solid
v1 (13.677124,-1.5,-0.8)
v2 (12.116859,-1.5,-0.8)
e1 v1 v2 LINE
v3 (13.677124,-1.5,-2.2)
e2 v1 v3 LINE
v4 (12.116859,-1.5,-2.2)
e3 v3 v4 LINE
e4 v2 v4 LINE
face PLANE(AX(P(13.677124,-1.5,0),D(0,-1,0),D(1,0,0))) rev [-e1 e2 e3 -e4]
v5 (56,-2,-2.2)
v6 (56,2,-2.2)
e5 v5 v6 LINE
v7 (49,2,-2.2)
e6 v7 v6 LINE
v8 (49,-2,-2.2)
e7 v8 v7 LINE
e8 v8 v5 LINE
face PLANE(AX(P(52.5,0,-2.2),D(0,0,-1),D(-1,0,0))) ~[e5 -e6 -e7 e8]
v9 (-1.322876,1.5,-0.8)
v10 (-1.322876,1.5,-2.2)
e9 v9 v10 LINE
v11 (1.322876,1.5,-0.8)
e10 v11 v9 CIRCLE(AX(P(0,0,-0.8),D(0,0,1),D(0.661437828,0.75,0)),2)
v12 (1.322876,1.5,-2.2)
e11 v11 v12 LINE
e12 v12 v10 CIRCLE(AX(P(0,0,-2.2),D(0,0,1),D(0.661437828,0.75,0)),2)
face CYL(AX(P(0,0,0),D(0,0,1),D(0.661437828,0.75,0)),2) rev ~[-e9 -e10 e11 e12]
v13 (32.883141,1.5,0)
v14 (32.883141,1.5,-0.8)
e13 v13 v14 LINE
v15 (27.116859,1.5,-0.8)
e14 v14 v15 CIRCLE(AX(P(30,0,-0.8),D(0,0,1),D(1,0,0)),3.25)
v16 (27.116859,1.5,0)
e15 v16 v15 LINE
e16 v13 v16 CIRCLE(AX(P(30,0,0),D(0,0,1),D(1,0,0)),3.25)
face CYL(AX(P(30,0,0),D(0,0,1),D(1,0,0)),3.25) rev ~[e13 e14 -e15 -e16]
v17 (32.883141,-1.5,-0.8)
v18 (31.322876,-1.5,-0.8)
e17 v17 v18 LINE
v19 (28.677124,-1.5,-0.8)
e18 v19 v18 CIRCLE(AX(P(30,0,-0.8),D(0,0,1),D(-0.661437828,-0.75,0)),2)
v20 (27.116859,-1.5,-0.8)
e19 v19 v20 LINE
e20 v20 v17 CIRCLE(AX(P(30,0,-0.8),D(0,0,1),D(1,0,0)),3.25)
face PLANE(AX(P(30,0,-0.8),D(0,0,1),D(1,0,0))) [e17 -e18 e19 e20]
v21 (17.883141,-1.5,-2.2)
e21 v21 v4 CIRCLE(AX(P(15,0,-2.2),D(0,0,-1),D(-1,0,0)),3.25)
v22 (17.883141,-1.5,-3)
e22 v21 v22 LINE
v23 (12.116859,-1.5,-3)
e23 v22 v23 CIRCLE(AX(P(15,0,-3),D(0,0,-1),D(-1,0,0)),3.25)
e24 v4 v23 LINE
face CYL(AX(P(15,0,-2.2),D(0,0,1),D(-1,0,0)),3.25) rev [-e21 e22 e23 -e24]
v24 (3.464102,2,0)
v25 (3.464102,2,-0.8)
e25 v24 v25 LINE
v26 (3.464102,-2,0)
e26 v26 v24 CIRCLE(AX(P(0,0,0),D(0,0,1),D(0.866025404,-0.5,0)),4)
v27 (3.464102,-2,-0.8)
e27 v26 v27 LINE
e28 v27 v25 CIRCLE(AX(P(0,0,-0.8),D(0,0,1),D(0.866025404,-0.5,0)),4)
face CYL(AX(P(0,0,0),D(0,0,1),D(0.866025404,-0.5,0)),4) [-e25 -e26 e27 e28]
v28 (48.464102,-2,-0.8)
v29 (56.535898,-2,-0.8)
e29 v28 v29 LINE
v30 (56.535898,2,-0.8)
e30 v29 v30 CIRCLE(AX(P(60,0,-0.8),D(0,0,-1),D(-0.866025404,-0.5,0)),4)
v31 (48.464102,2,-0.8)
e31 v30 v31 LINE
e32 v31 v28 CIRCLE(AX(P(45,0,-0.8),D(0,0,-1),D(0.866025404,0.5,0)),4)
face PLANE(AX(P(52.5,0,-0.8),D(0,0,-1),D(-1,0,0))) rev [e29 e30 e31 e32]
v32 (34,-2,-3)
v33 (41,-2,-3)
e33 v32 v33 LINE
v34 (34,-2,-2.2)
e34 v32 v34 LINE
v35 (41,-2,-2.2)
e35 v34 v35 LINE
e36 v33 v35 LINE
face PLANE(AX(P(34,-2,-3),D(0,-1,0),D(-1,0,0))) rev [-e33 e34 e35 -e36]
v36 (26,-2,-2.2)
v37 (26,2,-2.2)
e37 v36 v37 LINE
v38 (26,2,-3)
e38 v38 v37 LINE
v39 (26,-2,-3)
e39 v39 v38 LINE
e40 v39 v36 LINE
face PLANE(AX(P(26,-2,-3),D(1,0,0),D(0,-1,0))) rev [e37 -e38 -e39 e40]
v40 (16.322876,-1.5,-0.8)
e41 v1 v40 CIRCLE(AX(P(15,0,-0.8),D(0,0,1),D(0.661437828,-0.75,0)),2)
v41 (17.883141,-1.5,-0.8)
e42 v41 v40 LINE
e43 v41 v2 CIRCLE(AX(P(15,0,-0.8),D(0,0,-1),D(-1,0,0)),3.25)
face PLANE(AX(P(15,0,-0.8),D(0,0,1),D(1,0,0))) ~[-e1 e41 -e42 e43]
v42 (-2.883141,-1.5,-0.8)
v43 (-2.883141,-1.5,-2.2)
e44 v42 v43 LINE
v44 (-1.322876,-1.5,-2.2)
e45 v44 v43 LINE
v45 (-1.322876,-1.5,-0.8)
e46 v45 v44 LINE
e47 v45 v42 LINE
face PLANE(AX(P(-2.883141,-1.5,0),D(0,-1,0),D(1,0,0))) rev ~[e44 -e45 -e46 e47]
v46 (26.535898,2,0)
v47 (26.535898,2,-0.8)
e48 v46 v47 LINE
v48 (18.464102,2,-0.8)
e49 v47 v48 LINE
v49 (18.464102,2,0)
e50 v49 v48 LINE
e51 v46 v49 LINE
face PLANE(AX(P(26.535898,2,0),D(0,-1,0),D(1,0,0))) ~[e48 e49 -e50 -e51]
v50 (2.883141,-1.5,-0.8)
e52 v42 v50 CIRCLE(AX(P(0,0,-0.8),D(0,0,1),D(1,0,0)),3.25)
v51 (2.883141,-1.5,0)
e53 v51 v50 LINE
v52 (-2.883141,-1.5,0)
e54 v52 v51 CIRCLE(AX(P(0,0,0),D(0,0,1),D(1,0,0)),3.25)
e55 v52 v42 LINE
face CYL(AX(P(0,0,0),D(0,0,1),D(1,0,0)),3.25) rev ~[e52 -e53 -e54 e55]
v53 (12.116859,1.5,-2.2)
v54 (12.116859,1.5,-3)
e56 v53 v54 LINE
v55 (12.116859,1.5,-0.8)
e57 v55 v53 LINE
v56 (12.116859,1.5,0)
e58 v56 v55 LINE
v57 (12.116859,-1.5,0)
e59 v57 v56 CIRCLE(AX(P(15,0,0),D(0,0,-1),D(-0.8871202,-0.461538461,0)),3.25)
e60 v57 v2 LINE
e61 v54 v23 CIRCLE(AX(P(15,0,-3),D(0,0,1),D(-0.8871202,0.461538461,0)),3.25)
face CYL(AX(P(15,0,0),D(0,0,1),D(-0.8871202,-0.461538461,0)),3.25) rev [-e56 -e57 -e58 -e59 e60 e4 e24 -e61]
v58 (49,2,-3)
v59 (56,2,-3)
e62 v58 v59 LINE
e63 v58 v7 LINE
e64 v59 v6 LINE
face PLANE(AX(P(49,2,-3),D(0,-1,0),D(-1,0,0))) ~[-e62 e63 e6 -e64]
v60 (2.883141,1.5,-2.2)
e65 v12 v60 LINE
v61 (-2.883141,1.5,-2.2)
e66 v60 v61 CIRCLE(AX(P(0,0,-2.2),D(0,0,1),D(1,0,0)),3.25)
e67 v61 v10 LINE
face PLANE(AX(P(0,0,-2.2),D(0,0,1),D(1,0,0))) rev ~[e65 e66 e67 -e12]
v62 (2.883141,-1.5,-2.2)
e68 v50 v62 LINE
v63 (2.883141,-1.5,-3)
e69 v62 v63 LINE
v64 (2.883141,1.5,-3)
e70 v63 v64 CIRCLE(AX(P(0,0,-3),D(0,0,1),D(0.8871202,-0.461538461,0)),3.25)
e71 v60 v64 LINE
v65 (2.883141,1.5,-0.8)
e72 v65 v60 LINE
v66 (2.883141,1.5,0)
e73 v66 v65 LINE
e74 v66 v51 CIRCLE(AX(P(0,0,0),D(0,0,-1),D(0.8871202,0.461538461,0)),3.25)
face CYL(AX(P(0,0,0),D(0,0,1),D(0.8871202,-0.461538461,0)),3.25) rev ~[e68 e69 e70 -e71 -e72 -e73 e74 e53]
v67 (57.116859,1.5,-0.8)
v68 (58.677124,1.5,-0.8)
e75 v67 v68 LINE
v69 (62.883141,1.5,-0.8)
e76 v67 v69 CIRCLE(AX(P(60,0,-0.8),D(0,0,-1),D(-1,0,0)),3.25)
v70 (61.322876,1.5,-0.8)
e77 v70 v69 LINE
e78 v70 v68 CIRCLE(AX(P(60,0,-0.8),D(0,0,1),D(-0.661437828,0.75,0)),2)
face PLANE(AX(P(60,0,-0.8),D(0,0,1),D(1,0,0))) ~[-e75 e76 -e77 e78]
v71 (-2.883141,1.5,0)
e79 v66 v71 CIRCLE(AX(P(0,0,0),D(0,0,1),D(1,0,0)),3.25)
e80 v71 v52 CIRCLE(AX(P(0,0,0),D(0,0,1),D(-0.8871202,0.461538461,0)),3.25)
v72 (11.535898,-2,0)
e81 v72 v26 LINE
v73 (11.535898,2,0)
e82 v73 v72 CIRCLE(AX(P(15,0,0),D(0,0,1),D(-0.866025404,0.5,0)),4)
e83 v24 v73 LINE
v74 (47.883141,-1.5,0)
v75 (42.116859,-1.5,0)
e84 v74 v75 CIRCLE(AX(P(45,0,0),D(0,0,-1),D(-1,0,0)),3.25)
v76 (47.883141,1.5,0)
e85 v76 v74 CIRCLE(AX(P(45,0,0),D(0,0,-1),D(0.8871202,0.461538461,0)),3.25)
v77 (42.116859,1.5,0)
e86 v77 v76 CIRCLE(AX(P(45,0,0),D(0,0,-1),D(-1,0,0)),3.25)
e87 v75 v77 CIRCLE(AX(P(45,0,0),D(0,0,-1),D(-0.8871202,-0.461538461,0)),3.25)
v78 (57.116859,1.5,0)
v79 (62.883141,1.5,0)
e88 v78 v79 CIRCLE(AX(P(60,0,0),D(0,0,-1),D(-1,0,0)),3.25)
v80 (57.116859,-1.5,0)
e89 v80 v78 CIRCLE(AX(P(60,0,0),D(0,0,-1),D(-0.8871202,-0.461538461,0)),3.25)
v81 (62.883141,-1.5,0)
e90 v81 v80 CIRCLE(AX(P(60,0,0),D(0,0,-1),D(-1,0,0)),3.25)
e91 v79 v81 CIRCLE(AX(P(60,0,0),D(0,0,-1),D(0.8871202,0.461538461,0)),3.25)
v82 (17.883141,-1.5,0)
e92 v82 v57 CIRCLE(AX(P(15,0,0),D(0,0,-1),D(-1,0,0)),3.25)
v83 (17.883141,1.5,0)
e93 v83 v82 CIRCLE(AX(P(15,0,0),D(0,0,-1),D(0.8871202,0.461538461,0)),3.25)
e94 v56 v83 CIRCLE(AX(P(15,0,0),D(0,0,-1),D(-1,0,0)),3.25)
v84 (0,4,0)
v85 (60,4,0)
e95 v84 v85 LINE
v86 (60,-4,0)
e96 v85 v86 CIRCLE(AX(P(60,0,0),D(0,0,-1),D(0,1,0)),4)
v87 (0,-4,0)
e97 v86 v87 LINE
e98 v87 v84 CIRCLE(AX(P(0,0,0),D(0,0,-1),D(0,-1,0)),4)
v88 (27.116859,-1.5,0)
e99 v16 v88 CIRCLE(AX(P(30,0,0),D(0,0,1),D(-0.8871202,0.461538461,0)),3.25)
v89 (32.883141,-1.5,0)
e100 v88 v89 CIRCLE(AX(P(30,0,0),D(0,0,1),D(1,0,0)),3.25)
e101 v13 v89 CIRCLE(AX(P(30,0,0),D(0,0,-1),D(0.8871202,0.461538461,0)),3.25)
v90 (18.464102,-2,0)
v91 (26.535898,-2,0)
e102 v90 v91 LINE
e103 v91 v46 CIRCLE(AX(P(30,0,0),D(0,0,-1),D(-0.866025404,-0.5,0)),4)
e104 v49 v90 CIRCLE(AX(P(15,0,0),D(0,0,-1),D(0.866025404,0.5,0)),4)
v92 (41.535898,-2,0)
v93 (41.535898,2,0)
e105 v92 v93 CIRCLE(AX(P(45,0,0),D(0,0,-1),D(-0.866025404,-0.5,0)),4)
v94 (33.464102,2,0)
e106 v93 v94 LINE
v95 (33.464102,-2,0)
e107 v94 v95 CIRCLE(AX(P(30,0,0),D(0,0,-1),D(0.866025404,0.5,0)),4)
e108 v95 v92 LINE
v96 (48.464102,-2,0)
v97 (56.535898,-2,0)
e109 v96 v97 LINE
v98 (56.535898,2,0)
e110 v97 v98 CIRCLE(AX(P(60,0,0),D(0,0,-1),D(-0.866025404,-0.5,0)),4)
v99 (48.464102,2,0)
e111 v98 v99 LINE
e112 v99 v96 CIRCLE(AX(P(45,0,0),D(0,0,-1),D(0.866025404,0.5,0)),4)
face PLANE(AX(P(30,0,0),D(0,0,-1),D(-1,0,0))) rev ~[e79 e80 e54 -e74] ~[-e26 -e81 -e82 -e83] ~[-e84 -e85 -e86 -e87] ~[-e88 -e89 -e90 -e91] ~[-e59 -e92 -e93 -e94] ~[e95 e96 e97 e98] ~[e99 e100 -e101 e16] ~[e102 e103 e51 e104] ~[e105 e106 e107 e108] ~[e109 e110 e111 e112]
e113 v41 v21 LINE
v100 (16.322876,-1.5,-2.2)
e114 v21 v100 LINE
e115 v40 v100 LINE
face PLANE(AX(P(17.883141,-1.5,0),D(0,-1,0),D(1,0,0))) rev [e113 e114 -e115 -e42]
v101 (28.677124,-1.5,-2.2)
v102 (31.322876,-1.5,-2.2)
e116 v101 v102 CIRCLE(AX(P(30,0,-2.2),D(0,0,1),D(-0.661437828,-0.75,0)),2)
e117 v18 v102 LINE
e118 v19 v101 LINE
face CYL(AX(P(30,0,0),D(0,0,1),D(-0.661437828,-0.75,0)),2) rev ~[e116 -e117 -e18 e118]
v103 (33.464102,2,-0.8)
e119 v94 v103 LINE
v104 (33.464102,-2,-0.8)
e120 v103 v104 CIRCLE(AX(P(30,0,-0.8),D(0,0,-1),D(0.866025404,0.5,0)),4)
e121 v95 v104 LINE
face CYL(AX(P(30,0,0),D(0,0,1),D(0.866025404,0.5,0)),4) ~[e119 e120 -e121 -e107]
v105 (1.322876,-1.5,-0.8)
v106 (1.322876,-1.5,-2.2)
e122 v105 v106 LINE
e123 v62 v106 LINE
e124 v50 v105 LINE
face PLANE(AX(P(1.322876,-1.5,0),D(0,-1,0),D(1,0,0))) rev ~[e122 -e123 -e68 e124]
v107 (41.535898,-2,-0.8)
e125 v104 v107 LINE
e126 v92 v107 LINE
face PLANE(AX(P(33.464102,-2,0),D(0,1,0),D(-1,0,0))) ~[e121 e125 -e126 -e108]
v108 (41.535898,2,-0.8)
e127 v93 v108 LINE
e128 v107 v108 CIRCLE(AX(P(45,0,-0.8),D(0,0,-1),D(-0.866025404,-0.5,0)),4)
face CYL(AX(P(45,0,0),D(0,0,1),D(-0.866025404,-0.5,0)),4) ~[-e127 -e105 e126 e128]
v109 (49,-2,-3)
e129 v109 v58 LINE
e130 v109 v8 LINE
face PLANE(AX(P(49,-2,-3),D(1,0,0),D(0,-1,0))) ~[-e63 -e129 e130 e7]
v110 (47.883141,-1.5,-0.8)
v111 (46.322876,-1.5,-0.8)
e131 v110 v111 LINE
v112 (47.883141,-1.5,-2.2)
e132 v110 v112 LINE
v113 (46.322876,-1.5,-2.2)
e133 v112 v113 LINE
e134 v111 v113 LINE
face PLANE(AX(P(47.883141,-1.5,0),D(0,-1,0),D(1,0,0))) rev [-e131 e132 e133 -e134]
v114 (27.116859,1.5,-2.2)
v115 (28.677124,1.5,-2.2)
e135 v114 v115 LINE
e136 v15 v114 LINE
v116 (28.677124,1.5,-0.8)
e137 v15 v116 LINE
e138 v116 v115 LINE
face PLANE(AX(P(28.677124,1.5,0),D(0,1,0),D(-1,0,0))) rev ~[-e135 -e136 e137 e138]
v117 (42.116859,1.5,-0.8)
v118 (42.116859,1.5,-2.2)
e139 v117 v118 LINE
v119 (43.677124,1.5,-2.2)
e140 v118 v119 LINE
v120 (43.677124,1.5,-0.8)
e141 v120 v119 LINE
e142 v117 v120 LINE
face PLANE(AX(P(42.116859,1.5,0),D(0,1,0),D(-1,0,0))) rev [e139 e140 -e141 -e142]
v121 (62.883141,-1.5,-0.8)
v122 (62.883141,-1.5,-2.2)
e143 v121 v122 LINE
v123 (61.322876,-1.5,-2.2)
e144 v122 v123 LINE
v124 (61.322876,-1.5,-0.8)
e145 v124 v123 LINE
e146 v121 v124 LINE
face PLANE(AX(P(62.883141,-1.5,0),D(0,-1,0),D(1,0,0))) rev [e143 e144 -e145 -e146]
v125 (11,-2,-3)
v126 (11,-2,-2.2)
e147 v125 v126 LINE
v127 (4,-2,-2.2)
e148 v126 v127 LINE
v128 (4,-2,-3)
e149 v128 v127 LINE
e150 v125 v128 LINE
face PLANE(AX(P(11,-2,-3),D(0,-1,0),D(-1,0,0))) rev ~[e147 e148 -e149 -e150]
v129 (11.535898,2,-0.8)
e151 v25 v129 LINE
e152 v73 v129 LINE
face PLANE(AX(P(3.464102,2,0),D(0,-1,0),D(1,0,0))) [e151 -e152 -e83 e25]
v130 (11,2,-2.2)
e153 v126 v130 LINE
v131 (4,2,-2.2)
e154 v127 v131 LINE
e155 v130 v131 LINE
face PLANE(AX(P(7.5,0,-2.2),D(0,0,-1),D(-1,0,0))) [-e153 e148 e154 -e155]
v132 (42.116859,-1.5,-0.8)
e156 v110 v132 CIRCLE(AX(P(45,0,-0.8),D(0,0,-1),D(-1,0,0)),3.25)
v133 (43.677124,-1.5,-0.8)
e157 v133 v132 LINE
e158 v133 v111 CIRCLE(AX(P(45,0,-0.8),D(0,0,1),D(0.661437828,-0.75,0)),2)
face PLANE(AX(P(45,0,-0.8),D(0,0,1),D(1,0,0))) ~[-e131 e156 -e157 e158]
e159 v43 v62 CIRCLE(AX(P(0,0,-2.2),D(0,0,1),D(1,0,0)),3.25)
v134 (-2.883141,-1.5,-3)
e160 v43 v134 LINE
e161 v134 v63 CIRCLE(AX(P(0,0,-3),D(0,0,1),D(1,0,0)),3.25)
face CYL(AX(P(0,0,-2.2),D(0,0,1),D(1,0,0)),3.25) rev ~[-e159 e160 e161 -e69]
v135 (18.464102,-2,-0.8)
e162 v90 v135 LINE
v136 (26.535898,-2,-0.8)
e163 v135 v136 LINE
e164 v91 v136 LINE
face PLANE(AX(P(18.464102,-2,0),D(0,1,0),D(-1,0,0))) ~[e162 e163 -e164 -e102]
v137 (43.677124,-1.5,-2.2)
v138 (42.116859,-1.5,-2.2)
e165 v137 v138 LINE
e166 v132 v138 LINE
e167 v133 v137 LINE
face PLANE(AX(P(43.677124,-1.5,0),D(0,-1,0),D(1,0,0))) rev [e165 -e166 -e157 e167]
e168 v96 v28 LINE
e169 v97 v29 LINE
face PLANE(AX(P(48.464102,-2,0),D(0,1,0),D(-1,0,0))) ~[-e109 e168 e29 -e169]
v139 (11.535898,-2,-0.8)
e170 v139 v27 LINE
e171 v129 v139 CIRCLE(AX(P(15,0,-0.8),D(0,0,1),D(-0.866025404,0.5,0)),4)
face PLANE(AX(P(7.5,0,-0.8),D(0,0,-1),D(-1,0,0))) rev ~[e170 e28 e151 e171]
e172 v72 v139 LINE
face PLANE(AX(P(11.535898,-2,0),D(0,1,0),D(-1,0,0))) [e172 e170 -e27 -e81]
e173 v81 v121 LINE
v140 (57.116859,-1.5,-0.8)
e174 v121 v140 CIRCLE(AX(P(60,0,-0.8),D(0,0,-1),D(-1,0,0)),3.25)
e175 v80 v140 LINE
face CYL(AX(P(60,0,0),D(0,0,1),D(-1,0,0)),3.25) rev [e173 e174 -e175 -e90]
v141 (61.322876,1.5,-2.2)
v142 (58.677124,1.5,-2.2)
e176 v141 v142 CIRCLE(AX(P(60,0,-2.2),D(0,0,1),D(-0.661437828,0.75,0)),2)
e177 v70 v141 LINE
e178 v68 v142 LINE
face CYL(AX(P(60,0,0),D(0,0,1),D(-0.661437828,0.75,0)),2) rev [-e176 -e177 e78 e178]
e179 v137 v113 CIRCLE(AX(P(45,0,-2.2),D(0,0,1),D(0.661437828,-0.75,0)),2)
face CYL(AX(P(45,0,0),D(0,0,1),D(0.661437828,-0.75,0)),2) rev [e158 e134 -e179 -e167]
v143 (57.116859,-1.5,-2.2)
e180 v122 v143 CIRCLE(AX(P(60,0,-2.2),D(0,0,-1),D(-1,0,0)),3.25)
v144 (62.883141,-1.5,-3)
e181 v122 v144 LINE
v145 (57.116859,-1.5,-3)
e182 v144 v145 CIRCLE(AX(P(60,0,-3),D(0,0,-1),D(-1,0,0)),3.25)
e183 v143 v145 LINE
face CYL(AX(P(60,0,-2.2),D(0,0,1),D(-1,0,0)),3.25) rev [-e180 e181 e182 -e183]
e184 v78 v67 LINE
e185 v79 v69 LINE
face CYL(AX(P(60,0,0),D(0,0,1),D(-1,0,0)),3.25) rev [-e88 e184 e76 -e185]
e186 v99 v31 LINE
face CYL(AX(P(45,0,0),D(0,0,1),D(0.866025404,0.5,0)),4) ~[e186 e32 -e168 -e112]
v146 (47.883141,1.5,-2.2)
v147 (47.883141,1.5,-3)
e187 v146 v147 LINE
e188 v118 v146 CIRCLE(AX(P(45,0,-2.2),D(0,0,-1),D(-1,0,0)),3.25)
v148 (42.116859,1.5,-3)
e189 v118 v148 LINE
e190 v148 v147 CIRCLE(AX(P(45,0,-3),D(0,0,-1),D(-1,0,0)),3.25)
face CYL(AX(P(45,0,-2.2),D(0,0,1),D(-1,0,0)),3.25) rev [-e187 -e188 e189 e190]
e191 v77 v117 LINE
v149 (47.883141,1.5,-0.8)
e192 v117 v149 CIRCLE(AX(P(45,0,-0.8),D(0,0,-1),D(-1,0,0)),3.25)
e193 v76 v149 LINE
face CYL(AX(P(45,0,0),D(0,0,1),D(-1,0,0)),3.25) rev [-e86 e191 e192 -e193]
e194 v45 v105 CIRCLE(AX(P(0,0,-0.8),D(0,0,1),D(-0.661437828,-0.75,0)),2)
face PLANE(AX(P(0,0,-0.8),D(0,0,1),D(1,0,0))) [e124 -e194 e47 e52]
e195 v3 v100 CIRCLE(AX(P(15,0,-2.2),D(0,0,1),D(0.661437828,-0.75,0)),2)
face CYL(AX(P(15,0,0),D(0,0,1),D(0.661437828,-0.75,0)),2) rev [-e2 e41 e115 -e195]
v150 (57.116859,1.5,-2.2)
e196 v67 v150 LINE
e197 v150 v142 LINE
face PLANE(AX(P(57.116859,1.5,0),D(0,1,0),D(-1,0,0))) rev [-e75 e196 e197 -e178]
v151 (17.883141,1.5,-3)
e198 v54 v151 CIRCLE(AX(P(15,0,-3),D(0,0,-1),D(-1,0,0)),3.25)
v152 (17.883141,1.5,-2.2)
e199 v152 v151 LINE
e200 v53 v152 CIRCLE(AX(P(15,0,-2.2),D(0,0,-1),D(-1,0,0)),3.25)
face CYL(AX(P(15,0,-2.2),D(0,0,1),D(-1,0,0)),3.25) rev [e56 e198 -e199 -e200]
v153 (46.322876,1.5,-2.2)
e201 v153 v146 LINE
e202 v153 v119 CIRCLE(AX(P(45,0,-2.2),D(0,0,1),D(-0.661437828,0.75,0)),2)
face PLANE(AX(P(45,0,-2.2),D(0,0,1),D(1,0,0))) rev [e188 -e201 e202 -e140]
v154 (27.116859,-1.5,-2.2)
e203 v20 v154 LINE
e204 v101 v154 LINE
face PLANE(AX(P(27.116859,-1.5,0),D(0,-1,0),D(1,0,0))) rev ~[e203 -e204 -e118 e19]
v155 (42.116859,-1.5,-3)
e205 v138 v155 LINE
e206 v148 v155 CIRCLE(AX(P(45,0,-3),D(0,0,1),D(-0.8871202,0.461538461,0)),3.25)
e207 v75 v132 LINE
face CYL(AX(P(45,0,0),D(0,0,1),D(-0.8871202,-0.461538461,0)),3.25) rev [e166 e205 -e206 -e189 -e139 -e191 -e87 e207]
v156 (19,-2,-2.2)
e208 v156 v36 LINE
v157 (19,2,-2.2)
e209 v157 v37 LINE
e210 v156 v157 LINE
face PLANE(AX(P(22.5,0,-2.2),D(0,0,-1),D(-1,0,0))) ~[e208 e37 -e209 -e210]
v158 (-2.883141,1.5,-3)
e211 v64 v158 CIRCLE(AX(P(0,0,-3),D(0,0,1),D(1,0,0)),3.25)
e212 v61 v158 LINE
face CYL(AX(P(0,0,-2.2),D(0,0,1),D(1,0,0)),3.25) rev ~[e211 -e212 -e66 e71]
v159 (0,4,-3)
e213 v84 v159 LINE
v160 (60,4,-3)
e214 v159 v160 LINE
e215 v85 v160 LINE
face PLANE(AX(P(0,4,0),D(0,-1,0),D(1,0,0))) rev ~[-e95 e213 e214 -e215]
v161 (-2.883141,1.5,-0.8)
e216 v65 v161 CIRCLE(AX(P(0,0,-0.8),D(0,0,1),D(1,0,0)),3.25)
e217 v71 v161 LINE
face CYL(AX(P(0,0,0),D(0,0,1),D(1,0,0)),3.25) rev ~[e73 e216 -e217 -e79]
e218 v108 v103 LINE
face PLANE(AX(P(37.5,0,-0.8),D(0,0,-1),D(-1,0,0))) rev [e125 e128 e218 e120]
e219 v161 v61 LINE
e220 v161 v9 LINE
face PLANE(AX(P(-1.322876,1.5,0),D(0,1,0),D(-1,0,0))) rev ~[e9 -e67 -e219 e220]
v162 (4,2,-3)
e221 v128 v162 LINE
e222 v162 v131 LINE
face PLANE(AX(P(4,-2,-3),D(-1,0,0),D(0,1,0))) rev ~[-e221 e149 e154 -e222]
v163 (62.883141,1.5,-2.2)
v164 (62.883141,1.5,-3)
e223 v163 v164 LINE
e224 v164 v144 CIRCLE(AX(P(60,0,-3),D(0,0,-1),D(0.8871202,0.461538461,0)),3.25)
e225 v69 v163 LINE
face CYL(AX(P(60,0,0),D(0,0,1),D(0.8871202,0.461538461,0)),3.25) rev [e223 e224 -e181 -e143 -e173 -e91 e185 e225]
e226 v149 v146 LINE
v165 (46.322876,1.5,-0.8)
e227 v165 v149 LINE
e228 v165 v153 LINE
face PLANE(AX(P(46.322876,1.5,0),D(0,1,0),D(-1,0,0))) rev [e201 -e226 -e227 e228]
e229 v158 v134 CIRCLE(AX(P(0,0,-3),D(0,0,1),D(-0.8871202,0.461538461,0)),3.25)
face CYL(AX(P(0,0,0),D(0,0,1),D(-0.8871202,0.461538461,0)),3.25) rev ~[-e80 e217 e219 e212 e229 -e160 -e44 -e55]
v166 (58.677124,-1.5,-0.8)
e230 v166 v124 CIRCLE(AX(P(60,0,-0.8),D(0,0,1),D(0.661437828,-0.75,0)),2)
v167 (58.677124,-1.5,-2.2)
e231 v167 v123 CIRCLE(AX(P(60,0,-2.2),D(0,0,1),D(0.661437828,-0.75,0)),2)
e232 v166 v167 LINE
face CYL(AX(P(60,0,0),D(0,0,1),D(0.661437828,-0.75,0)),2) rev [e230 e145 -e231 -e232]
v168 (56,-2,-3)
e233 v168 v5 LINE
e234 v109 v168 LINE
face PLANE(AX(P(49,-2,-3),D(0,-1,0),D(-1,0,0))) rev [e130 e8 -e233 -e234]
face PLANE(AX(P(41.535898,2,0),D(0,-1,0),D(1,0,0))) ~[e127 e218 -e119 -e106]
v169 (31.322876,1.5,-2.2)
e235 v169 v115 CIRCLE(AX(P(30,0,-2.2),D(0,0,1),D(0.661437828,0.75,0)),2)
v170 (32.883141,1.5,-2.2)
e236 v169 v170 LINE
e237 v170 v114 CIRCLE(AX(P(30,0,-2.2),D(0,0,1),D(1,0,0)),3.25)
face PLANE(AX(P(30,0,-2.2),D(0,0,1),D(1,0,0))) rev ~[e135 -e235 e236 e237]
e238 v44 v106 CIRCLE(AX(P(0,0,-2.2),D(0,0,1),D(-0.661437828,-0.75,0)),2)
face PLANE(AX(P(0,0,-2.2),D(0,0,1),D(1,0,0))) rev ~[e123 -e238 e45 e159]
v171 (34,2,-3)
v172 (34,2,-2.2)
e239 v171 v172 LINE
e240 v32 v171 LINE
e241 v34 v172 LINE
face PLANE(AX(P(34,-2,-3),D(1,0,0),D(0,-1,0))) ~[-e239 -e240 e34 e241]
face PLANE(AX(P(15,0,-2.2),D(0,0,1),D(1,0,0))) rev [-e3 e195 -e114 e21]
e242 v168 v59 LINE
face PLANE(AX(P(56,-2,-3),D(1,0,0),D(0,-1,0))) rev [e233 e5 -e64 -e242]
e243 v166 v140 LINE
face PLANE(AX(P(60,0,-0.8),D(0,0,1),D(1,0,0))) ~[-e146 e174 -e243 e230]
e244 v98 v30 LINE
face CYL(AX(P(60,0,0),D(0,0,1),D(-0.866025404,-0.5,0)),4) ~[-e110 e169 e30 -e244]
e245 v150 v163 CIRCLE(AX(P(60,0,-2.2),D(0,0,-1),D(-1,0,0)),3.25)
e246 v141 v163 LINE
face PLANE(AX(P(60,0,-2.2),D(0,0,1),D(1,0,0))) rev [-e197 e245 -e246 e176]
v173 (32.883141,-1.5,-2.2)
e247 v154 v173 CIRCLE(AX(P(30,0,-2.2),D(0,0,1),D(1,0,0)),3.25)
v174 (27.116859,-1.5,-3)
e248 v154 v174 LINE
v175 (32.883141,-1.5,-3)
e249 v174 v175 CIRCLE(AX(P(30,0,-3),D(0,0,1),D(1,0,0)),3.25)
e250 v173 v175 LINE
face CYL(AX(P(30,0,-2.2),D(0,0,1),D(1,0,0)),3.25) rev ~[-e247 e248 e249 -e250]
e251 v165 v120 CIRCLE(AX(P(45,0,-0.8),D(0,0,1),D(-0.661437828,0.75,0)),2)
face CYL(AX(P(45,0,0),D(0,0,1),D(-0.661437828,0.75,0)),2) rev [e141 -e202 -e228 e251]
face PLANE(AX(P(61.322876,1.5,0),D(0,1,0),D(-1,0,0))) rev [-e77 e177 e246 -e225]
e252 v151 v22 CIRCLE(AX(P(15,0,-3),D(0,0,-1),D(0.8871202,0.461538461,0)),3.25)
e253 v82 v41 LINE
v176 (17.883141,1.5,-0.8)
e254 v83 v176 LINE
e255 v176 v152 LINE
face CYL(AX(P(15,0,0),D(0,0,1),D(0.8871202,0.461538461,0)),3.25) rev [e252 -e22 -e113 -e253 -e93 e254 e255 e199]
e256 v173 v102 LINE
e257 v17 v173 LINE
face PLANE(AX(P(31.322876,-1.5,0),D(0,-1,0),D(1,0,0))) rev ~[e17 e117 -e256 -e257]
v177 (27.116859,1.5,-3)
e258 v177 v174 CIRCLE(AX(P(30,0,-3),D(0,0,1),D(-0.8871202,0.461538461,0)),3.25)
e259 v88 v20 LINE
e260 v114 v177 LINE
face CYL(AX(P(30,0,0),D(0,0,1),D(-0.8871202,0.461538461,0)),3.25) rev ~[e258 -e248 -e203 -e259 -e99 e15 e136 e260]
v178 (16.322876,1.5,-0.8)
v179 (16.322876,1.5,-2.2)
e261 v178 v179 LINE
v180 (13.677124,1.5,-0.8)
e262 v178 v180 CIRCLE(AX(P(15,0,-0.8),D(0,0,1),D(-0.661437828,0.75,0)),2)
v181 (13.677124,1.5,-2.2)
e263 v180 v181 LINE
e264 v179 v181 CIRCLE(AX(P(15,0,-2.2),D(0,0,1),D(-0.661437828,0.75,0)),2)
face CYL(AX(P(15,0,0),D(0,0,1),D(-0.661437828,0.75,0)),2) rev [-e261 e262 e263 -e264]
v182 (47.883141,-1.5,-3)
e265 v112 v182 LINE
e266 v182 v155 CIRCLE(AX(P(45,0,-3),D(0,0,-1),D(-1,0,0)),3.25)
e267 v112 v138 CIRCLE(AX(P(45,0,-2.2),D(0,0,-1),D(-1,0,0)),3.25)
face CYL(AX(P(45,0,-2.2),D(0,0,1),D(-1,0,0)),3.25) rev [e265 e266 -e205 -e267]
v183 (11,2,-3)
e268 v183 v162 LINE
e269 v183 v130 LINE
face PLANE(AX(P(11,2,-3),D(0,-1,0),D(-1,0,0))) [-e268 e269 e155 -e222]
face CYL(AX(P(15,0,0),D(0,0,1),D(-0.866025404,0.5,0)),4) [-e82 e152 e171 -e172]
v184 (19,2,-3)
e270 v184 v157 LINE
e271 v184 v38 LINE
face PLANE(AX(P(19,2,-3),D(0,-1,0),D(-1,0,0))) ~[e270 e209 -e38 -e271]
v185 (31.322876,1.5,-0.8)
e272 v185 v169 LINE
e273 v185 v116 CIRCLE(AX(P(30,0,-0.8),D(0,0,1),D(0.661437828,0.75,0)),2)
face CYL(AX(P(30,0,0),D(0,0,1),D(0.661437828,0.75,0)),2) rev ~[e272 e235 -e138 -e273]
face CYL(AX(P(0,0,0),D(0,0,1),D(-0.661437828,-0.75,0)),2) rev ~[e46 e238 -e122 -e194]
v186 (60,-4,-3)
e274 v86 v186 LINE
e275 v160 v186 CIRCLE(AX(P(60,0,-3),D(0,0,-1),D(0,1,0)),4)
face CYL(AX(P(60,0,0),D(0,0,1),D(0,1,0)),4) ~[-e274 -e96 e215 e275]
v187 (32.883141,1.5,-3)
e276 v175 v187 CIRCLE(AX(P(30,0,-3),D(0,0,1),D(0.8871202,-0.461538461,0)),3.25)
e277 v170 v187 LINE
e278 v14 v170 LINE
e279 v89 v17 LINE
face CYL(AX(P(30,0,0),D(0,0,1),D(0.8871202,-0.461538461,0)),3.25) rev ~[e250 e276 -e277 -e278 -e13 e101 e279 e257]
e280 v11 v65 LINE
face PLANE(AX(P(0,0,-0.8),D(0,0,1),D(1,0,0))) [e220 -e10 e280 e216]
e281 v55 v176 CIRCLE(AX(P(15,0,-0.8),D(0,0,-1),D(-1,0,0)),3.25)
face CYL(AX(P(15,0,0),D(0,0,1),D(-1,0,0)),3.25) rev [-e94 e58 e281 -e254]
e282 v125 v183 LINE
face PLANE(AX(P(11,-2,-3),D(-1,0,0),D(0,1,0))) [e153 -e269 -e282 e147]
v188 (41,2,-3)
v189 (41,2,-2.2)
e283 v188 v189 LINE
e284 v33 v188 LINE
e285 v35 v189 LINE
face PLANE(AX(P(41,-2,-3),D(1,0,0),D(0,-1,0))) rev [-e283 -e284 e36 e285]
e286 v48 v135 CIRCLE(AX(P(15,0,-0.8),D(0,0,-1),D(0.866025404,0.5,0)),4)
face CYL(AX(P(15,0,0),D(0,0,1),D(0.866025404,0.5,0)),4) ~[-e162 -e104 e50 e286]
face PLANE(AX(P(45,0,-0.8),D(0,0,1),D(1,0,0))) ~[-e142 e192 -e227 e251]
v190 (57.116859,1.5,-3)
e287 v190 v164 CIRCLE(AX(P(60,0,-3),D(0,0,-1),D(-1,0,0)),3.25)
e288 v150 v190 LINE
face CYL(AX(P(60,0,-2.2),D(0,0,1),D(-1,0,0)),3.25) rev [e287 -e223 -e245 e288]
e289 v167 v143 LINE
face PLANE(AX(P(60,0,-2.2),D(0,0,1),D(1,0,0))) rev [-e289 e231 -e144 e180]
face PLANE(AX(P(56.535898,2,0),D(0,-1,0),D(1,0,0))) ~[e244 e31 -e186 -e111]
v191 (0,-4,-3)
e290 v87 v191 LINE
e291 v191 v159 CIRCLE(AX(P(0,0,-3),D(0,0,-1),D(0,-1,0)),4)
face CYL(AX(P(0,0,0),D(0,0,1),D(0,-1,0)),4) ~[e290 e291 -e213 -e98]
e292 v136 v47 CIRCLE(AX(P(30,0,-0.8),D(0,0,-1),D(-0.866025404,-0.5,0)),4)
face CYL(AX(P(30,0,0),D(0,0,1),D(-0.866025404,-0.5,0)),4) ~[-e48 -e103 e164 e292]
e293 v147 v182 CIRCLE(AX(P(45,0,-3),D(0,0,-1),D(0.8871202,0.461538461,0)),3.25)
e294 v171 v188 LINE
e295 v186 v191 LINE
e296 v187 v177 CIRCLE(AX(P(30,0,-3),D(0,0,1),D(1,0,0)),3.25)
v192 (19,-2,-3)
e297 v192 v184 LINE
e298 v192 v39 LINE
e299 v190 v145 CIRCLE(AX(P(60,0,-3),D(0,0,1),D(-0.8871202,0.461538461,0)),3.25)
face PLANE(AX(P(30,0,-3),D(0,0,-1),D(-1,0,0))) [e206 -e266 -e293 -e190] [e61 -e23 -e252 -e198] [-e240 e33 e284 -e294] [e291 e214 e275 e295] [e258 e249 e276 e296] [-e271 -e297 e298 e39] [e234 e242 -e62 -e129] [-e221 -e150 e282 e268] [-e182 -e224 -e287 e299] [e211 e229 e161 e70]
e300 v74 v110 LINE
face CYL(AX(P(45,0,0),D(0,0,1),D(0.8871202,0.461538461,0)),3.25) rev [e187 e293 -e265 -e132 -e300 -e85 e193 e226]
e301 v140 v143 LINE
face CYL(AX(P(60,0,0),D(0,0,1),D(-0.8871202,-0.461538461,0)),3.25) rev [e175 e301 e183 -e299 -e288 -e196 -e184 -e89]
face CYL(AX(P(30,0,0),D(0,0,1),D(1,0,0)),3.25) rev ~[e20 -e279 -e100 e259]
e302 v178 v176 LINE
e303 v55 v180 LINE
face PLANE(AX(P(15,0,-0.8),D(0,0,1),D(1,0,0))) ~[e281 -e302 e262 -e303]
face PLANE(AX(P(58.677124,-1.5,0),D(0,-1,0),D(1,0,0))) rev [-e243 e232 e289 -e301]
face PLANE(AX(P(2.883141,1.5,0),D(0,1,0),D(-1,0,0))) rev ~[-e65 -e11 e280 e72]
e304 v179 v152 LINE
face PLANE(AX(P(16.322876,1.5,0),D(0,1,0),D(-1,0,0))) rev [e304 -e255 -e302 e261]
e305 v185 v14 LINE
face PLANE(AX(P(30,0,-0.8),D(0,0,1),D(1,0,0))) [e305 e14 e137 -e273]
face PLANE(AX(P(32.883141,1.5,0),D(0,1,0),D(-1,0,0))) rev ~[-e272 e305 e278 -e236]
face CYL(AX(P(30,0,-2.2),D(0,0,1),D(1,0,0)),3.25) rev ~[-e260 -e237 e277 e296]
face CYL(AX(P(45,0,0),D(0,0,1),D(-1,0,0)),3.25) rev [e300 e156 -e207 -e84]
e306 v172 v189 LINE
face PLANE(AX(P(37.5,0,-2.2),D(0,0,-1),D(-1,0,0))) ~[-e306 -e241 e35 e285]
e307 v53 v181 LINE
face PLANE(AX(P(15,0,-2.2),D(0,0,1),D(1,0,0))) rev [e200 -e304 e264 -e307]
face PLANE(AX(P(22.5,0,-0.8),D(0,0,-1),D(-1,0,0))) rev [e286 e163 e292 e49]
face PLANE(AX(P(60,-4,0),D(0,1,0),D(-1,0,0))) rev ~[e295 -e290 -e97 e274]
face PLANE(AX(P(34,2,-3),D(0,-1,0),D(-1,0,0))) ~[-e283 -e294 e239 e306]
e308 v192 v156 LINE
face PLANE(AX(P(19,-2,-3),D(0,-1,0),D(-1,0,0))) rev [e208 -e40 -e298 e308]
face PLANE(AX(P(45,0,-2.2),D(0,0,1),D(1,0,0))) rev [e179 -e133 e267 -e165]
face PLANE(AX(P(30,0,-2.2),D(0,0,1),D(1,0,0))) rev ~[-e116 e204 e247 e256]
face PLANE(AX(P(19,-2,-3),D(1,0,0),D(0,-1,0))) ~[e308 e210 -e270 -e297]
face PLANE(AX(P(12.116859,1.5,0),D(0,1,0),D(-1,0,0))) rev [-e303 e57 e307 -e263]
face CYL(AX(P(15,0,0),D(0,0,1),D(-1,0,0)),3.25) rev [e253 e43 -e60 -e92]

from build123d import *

# Parameters (mm, degrees)
EXTRUDE_1_DEPTH          = 3
CUT_EXTRUDE_1_REACH      = 66.195
SKETCH_3_R               = 3.25
CUT_EXTRUDE_2_DEPTH      = 0.8
CUT_EXTRUDE_START        = -2.2
SKETCH_3_2_R             = 3.25
CUT_EXTRUDE_3_DEPTH      = 0.8
CUT_EXTRUDE_4_DEPTH      = 0.8
SKETCH_5_W               = 7
SKETCH_5_H               = 4
CUT_EXTRUDE_6_DEPTH      = 0.8
MIRROR_2_COPY_1_REACH    = 66.195
MIRROR_2_COPY_2_SKETCH_R = 3.25
MIRROR_2_COPY_2_DEPTH    = 0.8
MIRROR_START             = -2.2
MIRROR_2_COPY_3_SKETCH_R = 3.25
MIRROR_2_COPY_3_DEPTH    = 0.8


with BuildPart() as part:
    # 草图1 → 凸台-拉伸1 (new body)
    with BuildSketch(Plane.XY):
        with BuildLine():
            Line((0, 4), (60, 4))
            ThreePointArc((60, 4), (64, 0), (60, -4))
            Line((60, -4), (0, -4))
            ThreePointArc((0, -4), (-4, 0), (0, 4))
        make_face()
    extrude(amount=-EXTRUDE_1_DEPTH)

    # 草图2 → 切除-拉伸1 (cut, up to next)
    with BuildSketch(Plane.XY, mode=Mode.PRIVATE) as cut_extrude_1_sk1:
        with BuildLine():
            Line((1.322875656, -1.5), (2.883140649, -1.5))
            ThreePointArc((2.883140649, -1.5), (3.25, 0), (2.883140649, 1.5))
            Line((2.883140649, 1.5), (1.322875656, 1.5))
            ThreePointArc((1.322875656, 1.5), (0, 2), (-1.322875656, 1.5))
            Line((-1.322875656, 1.5), (-2.883140649, 1.5))
            ThreePointArc((-2.883140649, 1.5), (-3.25, 0), (-2.883140649, -1.5))
            Line((-2.883140649, -1.5), (-1.322875656, -1.5))
            ThreePointArc((-1.322875656, -1.5), (0, -2), (1.322875656, -1.5))
        make_face()
    cut_extrude_1_tool1 = extrude(cut_extrude_1_sk1.sketch, amount=-CUT_EXTRUDE_1_REACH, mode=Mode.PRIVATE) & part.part
    cut_extrude_1 = cut_extrude_1_tool1.solids().sort_by_distance((0, 0, 0))[0]
    add(cut_extrude_1, mode=Mode.SUBTRACT)

    # 草图3 → 切除-拉伸2 (cut)
    with BuildSketch(Plane.XY):
        Circle(SKETCH_3_R)
    cut_extrude_2 = extrude(amount=-CUT_EXTRUDE_2_DEPTH, mode=Mode.SUBTRACT)

    # 草图3<2> → 切除-拉伸3 (cut)
    with BuildSketch(Plane.XY.offset(CUT_EXTRUDE_START)):
        Circle(SKETCH_3_2_R)
    cut_extrude_3 = extrude(amount=-CUT_EXTRUDE_3_DEPTH, mode=Mode.SUBTRACT)

    # 草图4 → 切除-拉伸4 (cut)
    with BuildSketch(Plane.XY):
        with BuildLine():
            Line((3.464101615, 2), (11.535898385, 2))
            ThreePointArc((11.535898385, 2), (11, 0), (11.535898385, -2))
            Line((11.535898385, -2), (3.464101615, -2))
            ThreePointArc((3.464101615, -2), (4, 0), (3.464101615, 2))
        make_face()
    cut_extrude_4 = extrude(amount=-CUT_EXTRUDE_4_DEPTH, mode=Mode.SUBTRACT)

    # 草图5 → 切除-拉伸6 (cut)
    with BuildSketch(Plane(origin=(0, 0, -3), x_dir=(-1, 0, 0), z_dir=(0, 0, -1))):
        with Locations((-7.5, 0)):
            Rectangle(SKETCH_5_W, SKETCH_5_H)
    cut_extrude_6 = extrude(amount=-CUT_EXTRUDE_6_DEPTH, mode=Mode.SUBTRACT)

    # 镜向1: 切除-拉伸1, 切除-拉伸2, 切除-拉伸3 across plane
    add(cut_extrude_1.mirror(Plane(origin=(7.5, 0, 0), x_dir=(0, 0, 1), z_dir=(1, 0, 0))), mode=Mode.SUBTRACT)
    add(cut_extrude_2.mirror(Plane(origin=(7.5, 0, 0), x_dir=(0, 0, 1), z_dir=(1, 0, 0))), mode=Mode.SUBTRACT)
    add(cut_extrude_3.mirror(Plane(origin=(7.5, 0, 0), x_dir=(0, 0, 1), z_dir=(1, 0, 0))), mode=Mode.SUBTRACT)

    # 镜向2: 切除-拉伸1, 切除-拉伸2, 切除-拉伸3 across plane
    add(cut_extrude_1.mirror(Plane(origin=(22.5, 0, 0), x_dir=(0, 0, 1), z_dir=(1, 0, 0))), mode=Mode.SUBTRACT)
    add(cut_extrude_2.mirror(Plane(origin=(22.5, 0, 0), x_dir=(0, 0, 1), z_dir=(1, 0, 0))), mode=Mode.SUBTRACT)
    add(cut_extrude_3.mirror(Plane(origin=(22.5, 0, 0), x_dir=(0, 0, 1), z_dir=(1, 0, 0))), mode=Mode.SUBTRACT)

    # 镜向2 copy 1 sketch → 镜向2 copy 1 (cut, up to next)
    with BuildSketch(Plane(origin=(30, 0, 0), x_dir=(1, 0, 0), z_dir=(0, 0, 1)), mode=Mode.PRIVATE) as mirror_2_copy_1_sk1:
        with BuildLine():
            Line((1.322875656, -1.5), (2.883140649, -1.5))
            ThreePointArc((2.883140649, -1.5), (3.25, 0), (2.883140649, 1.5))
            Line((2.883140649, 1.5), (1.322875656, 1.5))
            ThreePointArc((1.322875656, 1.5), (0, 2), (-1.322875656, 1.5))
            Line((-1.322875656, 1.5), (-2.883140649, 1.5))
            ThreePointArc((-2.883140649, 1.5), (-3.25, 0), (-2.883140649, -1.5))
            Line((-2.883140649, -1.5), (-1.322875656, -1.5))
            ThreePointArc((-1.322875656, -1.5), (0, -2), (1.322875656, -1.5))
        make_face()
    mirror_2_copy_1_tool1 = extrude(mirror_2_copy_1_sk1.sketch, amount=-MIRROR_2_COPY_1_REACH, mode=Mode.PRIVATE) & part.part
    add(mirror_2_copy_1_tool1.solids().sort_by_distance((30, 0, 0))[0], mode=Mode.SUBTRACT)

    # 镜向2 copy 2 sketch → 镜向2 copy 2 (cut)
    with BuildSketch(Plane(origin=(30, 0, 0), x_dir=(1, 0, 0), z_dir=(0, 0, 1))):
        Circle(MIRROR_2_COPY_2_SKETCH_R)
    extrude(amount=-MIRROR_2_COPY_2_DEPTH, mode=Mode.SUBTRACT)

    # 镜向2 copy 3 sketch → 镜向2 copy 3 (cut)
    with BuildSketch(Plane(origin=(30, 0, 0), x_dir=(1, 0, 0), z_dir=(0, 0, 1)).offset(MIRROR_START)):
        Circle(MIRROR_2_COPY_3_SKETCH_R)
    extrude(amount=-MIRROR_2_COPY_3_DEPTH, mode=Mode.SUBTRACT)

    # 镜向3: 切除-拉伸4, 切除-拉伸6 across plane
    add(cut_extrude_4.mirror(Plane(origin=(15, 0, 0), x_dir=(0, 0, 1), z_dir=(1, 0, 0))), mode=Mode.SUBTRACT)
    add(cut_extrude_6.mirror(Plane(origin=(15, 0, 0), x_dir=(0, 0, 1), z_dir=(1, 0, 0))), mode=Mode.SUBTRACT)

    # 镜向4: 切除-拉伸4, 切除-拉伸6 across plane
    add(cut_extrude_4.mirror(Plane(origin=(22.5, 0, 0), x_dir=(0, 0, 1), z_dir=(1, 0, 0))), mode=Mode.SUBTRACT)
    add(cut_extrude_6.mirror(Plane(origin=(22.5, 0, 0), x_dir=(0, 0, 1), z_dir=(1, 0, 0))), mode=Mode.SUBTRACT)

    # 镜向5: 切除-拉伸1, 切除-拉伸2, 切除-拉伸3 across plane
    add(cut_extrude_1.mirror(Plane(origin=(30, 0, 0), x_dir=(0, 0, 1), z_dir=(1, 0, 0))), mode=Mode.SUBTRACT)
    add(cut_extrude_2.mirror(Plane(origin=(30, 0, 0), x_dir=(0, 0, 1), z_dir=(1, 0, 0))), mode=Mode.SUBTRACT)
    add(cut_extrude_3.mirror(Plane(origin=(30, 0, 0), x_dir=(0, 0, 1), z_dir=(1, 0, 0))), mode=Mode.SUBTRACT)

    # 镜向6: 切除-拉伸4, 切除-拉伸6 across plane
    add(cut_extrude_4.mirror(Plane(origin=(30, 0, 0), x_dir=(0, 0, 1), z_dir=(1, 0, 0))), mode=Mode.SUBTRACT)
    add(cut_extrude_6.mirror(Plane(origin=(30, 0, 0), x_dir=(0, 0, 1), z_dir=(1, 0, 0))), mode=Mode.SUBTRACT)


solid = part.part
